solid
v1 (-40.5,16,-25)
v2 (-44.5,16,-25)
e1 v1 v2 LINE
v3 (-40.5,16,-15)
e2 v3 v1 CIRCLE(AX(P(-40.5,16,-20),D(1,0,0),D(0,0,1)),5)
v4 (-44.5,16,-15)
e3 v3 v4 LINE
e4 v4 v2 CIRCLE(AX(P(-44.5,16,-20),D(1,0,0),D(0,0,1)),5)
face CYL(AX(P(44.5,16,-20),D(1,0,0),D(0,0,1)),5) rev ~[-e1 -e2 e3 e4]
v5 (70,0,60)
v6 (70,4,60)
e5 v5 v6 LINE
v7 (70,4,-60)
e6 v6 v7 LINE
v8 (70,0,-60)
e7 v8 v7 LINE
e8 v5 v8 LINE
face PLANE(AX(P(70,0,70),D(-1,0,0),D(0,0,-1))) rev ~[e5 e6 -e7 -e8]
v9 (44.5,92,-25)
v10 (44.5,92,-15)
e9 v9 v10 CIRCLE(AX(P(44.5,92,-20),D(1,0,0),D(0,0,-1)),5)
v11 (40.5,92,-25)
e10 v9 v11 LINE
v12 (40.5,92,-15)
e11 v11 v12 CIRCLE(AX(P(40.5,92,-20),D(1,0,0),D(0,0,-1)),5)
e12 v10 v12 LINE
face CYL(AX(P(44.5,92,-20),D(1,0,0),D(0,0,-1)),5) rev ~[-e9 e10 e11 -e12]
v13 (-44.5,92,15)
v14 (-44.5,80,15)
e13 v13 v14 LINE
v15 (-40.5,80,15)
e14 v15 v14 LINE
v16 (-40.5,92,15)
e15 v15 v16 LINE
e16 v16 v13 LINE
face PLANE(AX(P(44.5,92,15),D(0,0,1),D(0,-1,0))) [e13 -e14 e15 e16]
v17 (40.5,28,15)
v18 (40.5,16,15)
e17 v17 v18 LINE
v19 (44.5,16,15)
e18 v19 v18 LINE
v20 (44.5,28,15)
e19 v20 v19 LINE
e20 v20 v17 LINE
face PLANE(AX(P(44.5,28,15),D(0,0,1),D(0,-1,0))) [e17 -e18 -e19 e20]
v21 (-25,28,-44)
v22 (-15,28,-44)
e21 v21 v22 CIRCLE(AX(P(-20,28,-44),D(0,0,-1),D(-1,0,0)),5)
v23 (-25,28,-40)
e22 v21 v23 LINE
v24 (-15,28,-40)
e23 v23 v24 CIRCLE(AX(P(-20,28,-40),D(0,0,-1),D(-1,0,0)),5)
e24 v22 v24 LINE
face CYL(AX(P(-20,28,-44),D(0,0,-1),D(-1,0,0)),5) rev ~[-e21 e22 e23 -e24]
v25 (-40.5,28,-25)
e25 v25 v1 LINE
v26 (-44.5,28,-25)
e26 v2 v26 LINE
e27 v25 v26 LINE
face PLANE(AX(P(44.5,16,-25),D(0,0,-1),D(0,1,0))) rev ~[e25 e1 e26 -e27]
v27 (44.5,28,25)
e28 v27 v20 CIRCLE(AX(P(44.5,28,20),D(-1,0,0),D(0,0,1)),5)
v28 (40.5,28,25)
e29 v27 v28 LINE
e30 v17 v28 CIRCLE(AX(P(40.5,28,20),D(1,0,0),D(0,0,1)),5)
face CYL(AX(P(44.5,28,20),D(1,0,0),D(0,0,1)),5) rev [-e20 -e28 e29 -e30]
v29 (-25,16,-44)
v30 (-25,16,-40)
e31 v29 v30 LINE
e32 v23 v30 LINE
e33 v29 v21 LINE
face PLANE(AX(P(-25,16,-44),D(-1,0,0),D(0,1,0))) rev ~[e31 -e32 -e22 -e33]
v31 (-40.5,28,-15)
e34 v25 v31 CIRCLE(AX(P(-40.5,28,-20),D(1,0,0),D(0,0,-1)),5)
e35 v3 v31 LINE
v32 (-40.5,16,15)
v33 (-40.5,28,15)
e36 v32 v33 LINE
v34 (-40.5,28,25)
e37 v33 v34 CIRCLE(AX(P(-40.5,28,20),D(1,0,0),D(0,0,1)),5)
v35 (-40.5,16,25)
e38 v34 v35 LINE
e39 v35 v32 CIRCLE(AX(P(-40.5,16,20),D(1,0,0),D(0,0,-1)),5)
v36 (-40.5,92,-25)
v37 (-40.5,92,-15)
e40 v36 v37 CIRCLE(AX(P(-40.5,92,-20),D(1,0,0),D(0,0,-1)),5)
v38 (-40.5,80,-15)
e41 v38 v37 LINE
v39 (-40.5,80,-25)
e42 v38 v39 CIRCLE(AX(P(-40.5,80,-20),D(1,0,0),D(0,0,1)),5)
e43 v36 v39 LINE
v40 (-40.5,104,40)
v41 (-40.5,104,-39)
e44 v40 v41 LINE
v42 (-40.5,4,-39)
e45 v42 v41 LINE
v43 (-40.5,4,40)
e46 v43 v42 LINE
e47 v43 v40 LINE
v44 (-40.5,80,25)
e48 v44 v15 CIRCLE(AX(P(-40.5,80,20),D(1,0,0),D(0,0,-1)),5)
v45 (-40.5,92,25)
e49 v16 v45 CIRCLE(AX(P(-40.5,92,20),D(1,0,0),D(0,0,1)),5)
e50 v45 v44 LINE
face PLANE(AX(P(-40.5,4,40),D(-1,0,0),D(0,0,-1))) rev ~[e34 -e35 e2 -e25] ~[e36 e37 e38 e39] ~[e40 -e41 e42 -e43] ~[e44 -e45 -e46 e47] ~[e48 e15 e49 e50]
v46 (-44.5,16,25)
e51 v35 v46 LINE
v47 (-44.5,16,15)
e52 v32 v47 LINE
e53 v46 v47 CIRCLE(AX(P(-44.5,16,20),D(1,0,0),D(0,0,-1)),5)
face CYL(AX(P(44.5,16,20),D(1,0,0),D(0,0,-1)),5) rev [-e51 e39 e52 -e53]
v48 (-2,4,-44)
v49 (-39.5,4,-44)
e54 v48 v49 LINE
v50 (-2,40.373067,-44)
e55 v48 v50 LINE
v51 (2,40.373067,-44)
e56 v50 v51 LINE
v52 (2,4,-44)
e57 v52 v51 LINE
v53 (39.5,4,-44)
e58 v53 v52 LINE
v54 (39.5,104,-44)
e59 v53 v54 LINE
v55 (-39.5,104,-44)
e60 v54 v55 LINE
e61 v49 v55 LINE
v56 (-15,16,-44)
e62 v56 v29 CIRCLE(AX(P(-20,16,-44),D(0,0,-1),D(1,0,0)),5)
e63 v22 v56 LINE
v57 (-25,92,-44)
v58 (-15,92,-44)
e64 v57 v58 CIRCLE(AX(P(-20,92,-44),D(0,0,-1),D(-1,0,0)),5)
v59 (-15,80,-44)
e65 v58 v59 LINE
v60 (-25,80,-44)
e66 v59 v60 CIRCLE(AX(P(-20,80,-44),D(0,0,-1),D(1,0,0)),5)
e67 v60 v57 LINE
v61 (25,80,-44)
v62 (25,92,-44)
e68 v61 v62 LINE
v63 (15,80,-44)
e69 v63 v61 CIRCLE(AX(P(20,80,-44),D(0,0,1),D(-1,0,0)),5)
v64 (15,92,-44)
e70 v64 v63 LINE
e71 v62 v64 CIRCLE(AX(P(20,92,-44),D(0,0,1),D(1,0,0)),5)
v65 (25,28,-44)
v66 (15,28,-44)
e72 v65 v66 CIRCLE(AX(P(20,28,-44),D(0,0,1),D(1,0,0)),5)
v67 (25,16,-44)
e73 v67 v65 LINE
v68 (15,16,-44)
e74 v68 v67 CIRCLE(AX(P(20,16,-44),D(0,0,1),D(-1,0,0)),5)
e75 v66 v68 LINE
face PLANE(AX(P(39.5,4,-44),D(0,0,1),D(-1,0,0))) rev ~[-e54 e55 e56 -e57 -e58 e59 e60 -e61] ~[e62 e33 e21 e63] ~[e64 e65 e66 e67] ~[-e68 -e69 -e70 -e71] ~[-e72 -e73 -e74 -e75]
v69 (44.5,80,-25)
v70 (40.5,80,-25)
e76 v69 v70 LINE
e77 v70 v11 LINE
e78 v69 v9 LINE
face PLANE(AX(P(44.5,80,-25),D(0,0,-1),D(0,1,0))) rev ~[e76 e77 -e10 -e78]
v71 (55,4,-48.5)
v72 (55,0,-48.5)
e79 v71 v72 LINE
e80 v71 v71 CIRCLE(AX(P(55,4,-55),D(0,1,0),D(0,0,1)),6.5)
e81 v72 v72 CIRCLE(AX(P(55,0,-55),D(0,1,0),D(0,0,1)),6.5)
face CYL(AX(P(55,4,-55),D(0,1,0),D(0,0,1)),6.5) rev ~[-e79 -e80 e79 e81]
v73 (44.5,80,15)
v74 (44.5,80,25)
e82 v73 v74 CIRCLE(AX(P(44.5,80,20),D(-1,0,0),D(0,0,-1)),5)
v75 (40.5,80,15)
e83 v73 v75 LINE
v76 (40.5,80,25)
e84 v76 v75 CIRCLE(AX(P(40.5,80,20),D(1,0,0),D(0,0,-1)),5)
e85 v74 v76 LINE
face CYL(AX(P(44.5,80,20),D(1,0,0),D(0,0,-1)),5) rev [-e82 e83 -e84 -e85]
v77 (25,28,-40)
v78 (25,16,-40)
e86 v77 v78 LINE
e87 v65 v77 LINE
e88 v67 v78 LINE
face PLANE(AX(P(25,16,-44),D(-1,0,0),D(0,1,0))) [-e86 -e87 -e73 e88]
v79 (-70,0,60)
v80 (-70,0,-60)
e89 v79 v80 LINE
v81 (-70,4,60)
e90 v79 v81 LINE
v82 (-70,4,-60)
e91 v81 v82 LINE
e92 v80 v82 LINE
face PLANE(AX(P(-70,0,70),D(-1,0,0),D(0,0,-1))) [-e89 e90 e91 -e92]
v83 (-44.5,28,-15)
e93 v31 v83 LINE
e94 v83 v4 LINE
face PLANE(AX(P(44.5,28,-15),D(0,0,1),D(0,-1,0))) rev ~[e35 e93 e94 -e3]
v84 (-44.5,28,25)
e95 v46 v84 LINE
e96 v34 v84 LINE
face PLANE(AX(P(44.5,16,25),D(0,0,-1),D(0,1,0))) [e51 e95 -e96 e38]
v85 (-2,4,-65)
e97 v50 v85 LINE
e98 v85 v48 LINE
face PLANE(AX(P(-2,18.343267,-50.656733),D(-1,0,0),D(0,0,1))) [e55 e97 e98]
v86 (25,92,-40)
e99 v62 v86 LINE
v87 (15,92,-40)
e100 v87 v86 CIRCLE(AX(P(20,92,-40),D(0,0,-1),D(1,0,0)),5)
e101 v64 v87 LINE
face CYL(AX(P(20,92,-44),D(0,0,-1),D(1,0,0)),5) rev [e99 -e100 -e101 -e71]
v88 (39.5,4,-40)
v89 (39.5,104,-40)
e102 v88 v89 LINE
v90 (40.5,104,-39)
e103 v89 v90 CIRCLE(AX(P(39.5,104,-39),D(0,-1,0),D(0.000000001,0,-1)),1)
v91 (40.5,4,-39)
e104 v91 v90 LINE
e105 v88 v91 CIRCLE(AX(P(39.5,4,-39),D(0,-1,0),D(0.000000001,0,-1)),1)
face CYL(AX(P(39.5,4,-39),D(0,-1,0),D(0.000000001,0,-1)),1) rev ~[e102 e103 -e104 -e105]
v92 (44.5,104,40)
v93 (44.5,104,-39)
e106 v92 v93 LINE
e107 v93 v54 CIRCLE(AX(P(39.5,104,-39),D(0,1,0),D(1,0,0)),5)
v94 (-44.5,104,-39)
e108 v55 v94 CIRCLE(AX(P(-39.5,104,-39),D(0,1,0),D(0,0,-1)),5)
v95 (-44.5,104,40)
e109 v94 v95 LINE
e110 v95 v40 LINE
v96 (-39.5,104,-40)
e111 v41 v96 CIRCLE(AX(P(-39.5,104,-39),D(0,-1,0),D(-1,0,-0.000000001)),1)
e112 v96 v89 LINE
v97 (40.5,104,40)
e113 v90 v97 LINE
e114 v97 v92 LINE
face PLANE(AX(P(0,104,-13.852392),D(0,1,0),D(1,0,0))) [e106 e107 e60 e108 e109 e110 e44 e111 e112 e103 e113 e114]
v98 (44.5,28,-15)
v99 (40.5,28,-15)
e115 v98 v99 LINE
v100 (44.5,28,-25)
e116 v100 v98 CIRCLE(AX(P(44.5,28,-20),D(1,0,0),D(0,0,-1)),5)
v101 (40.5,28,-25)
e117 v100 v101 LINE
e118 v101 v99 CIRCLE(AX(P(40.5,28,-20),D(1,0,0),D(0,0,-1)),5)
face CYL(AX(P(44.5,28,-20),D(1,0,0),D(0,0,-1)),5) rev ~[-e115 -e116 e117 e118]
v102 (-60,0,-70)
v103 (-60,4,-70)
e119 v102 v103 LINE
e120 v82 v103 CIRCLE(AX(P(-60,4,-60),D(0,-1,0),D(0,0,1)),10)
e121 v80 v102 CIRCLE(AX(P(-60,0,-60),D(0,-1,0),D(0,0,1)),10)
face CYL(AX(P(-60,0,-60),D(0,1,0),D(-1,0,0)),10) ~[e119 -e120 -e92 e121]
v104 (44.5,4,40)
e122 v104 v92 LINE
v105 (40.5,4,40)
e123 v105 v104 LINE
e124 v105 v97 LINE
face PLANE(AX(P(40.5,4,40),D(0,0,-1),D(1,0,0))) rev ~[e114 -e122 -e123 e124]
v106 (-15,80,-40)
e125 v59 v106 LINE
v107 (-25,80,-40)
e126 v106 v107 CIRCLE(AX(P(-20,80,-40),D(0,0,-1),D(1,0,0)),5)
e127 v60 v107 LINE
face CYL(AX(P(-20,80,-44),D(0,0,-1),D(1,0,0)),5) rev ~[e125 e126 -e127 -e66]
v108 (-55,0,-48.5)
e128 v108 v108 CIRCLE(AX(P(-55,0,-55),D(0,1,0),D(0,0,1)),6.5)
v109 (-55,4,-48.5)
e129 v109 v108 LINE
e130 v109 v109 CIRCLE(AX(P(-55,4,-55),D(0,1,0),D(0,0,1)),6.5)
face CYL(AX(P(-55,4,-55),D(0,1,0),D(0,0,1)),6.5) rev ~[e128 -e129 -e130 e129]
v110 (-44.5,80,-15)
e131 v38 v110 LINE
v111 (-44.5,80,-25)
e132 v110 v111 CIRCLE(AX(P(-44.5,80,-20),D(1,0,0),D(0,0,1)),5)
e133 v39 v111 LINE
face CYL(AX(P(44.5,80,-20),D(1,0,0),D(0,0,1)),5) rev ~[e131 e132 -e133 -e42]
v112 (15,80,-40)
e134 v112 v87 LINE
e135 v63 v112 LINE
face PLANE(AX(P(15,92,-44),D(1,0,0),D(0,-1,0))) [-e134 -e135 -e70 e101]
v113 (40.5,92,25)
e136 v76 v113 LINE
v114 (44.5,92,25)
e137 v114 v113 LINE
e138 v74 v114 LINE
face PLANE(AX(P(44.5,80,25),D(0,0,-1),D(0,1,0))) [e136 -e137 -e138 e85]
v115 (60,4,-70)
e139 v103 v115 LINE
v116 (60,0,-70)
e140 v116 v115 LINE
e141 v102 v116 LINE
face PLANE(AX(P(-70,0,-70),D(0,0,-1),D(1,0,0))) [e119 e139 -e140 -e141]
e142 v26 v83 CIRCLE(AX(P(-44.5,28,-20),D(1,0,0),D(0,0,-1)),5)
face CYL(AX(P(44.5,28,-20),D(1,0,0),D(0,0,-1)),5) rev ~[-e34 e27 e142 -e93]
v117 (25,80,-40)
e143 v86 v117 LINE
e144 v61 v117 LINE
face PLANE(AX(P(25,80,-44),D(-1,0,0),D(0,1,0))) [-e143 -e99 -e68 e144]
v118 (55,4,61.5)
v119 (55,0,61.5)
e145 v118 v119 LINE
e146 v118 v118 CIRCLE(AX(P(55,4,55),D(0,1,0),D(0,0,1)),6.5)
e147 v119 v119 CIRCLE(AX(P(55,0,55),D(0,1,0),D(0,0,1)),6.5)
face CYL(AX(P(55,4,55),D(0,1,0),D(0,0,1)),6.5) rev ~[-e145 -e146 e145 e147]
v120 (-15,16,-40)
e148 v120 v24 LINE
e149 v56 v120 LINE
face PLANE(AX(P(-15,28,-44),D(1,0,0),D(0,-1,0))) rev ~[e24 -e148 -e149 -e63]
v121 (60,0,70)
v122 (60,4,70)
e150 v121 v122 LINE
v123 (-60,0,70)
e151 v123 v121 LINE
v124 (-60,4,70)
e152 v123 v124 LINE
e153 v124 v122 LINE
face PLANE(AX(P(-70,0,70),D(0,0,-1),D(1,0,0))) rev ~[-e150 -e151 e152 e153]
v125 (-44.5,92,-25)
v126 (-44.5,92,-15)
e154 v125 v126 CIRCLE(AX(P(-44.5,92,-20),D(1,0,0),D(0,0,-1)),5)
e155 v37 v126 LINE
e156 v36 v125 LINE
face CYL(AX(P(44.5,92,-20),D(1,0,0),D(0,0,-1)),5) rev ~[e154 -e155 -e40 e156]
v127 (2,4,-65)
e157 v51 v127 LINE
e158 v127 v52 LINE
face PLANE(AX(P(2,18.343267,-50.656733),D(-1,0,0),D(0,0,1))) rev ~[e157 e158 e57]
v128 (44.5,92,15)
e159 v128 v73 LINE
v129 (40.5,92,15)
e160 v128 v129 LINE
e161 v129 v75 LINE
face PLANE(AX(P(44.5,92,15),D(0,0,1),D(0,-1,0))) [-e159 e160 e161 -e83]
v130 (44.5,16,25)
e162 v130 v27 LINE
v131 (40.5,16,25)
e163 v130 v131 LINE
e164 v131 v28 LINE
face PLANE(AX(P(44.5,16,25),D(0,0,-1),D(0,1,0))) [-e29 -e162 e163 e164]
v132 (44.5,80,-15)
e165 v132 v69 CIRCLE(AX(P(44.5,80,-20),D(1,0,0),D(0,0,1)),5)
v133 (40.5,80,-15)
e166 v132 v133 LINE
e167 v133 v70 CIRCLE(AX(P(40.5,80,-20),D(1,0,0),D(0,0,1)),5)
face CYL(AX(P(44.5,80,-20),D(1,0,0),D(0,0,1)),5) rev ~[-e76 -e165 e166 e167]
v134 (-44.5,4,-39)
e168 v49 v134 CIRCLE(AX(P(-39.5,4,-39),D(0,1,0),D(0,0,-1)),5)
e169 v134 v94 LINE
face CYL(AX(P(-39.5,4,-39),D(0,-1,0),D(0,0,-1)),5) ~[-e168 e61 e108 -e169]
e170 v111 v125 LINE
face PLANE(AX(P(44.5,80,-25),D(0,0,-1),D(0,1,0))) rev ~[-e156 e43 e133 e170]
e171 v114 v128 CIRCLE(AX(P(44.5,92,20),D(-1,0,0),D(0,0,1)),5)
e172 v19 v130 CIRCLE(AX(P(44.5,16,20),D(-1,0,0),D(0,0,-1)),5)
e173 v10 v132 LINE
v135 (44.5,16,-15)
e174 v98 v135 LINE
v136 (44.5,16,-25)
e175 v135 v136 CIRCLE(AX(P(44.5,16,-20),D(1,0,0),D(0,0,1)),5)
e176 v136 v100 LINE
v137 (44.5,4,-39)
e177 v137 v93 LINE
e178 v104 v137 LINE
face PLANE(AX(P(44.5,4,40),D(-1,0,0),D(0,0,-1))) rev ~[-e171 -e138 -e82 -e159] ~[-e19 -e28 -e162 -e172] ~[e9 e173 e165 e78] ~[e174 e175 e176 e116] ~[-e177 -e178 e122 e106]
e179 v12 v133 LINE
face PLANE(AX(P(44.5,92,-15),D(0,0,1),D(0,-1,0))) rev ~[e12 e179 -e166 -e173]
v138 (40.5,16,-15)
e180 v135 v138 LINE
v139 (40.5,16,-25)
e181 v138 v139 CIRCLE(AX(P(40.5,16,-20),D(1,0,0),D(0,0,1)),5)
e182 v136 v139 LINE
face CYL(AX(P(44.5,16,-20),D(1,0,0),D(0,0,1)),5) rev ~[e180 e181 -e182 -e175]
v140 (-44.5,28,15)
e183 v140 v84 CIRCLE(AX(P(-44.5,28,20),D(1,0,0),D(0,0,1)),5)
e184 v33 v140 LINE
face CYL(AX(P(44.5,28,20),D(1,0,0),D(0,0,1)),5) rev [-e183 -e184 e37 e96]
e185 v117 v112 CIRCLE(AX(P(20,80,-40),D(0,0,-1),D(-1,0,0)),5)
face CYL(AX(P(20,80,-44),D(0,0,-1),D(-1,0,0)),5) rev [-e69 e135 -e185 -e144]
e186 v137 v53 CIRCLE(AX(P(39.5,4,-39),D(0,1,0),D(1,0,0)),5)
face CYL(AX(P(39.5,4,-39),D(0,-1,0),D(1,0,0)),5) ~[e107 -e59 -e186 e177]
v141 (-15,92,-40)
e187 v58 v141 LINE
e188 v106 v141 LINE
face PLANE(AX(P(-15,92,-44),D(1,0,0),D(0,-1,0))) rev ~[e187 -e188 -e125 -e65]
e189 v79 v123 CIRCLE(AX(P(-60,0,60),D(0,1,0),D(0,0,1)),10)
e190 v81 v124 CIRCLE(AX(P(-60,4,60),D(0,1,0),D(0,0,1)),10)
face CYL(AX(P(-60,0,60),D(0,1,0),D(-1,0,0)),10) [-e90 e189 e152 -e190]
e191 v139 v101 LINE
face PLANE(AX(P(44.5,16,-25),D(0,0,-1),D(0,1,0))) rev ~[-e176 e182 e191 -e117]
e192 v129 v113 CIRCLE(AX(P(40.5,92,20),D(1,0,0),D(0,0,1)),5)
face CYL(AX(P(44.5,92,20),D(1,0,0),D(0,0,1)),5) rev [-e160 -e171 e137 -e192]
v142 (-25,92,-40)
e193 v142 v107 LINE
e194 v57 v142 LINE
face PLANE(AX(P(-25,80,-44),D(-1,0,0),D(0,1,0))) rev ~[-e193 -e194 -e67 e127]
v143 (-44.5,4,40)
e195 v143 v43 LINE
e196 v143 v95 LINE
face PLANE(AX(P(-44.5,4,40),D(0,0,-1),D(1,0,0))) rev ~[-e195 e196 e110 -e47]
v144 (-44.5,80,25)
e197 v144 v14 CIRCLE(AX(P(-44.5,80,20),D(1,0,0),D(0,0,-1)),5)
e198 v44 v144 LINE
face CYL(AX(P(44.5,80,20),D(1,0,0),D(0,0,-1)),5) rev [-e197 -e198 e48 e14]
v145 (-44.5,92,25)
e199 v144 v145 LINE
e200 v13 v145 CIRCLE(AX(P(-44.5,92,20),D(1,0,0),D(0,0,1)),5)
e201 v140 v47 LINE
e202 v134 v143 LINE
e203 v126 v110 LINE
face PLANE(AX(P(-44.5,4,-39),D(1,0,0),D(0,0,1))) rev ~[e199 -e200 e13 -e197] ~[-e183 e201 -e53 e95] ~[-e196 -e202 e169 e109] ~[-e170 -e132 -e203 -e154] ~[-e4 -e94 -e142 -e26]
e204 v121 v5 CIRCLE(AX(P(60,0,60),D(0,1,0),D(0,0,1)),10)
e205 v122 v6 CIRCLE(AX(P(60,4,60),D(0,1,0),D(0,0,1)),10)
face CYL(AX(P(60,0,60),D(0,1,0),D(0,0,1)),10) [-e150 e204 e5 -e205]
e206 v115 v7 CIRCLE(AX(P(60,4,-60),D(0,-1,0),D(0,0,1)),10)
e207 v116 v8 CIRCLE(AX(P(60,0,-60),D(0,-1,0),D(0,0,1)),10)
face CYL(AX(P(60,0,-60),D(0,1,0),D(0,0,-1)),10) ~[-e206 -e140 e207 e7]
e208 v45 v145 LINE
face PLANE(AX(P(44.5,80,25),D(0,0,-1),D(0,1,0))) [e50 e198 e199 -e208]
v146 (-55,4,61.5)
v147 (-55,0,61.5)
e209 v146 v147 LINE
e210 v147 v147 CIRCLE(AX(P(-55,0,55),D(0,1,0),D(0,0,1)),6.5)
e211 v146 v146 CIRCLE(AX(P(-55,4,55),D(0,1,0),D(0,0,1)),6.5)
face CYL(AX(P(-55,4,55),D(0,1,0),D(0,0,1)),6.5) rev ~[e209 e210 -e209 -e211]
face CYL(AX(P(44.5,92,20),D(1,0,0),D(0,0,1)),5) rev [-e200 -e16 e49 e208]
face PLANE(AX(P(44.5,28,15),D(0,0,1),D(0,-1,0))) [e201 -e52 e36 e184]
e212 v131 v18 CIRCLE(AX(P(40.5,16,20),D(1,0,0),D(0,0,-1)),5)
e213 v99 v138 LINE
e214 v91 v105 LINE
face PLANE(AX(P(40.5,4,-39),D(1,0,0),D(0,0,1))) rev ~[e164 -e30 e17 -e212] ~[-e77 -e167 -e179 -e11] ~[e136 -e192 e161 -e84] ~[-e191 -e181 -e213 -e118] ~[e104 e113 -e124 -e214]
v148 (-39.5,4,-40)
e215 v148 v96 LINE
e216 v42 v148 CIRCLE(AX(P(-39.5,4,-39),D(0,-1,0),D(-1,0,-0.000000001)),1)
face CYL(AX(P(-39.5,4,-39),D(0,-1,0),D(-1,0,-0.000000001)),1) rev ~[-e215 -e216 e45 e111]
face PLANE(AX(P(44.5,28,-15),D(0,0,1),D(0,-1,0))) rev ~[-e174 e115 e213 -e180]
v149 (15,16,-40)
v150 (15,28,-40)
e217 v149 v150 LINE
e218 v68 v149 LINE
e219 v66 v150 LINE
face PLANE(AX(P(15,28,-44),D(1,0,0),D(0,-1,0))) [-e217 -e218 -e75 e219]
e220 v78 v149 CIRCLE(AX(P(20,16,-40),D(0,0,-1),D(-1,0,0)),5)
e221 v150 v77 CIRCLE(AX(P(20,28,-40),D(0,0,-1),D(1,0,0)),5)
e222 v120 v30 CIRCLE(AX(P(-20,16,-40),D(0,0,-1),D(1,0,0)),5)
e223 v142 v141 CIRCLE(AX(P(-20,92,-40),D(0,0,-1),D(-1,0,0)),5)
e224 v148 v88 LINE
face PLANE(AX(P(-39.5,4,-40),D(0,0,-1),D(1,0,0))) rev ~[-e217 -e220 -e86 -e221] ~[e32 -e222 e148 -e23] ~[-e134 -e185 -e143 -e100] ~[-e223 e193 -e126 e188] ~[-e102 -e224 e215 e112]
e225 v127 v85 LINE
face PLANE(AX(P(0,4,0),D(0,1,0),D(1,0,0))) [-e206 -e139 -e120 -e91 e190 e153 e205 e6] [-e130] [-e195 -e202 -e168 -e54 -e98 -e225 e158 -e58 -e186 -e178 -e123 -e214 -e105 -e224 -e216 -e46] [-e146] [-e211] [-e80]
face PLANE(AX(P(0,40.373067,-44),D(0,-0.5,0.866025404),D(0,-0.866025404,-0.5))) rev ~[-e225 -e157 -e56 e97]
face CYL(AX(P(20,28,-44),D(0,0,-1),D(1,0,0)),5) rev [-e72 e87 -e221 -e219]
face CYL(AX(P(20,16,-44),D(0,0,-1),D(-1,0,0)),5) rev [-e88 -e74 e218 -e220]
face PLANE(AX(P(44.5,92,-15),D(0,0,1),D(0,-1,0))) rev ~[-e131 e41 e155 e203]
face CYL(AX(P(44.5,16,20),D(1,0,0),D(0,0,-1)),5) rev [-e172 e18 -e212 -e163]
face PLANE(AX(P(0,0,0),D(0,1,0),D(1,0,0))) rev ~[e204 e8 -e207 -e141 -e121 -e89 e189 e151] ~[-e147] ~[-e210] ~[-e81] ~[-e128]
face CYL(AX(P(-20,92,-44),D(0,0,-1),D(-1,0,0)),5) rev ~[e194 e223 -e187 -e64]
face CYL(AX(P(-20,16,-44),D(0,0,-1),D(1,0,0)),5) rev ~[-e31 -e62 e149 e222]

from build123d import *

# Parameters (mm, degrees)
SKETCH_2_W          = 140
SKETCH_2_H          = 140
EXTRUDE_1_DEPTH     = 4
EXTRUDE_1_2_DEPTH   = 100
EXTRUDE_2_DEPTH     = 2
CUT_EXTRUDE_1_DEPTH = 115.5
SKETCH_6_R          = 6.5
CUT_EXTRUDE_2_DEPTH = 5
FILLET_1_R          = 10
CUT_EXTRUDE_3_REACH = 116


with BuildPart() as part:
    # Эскиз2 → Extrude 1 (new body)
    with BuildSketch(Plane(origin=(0, 0, 0), x_dir=(1, 0, 0), z_dir=(0, 1, 0))):
        Rectangle(SKETCH_2_W, SKETCH_2_H)
    extrude(amount=EXTRUDE_1_DEPTH)

    # Эскиз3 → Extrude 1 2 (add)
    with BuildSketch(Plane(origin=(0, 4, 0), x_dir=(1, 0, 0), z_dir=(0, 1, 0))):
        with BuildLine():
            Line((-40.5, -40), (-40.5, 39))
            ThreePointArc((-40.5, 39), (-40.207106781, 39.707106781), (-39.5, 40))
            Line((-39.5, 40), (39.5, 40))
            ThreePointArc((39.5, 40), (40.207106781, 39.707106781), (40.5, 39))
            Line((40.5, 39), (40.5, -40))
            Line((40.5, -40), (44.5, -40))
            Line((44.5, -40), (44.5, 39))
            ThreePointArc((44.5, 39), (43.035533906, 42.535533906), (39.5, 44))
            Line((39.5, 44), (-39.5, 44))
            ThreePointArc((-39.5, 44), (-43.035533906, 42.535533906), (-44.5, 39))
            Line((-44.5, 39), (-44.5, -40))
            Line((-44.5, -40), (-40.5, -40))
        make_face()
    extrude(amount=EXTRUDE_1_2_DEPTH)

    # Эскиз4 → Бобышка-Вытянуть2 (add, symmetric)
    with BuildSketch(Plane(origin=(0, 0, 0), x_dir=(0, 0, -1), z_dir=(1, 0, 0))):
        Polygon((44, 40.373066959), (65, 4), (44, 4), align=None)
    extrude(amount=EXTRUDE_2_DEPTH, both=True)

    # Эскиз5 → Вырез-Вытянуть1 (cut, through all)
    with BuildSketch(Plane(origin=(44.5, 0, 0), x_dir=(0, 0, -1), z_dir=(1, 0, 0))):
        with BuildLine():
            Line((-15, 92), (-15, 80))
            ThreePointArc((-15, 80), (-20, 75), (-25, 80))
            Line((-25, 80), (-25, 92))
            ThreePointArc((-25, 92), (-20, 97), (-15, 92))
        make_face()
        with BuildLine():
            Line((-15, 28), (-15, 16))
            ThreePointArc((-15, 16), (-20, 11), (-25, 16))
            Line((-25, 16), (-25, 28))
            ThreePointArc((-25, 28), (-20, 33), (-15, 28))
        make_face()
        with BuildLine():
            Line((15, 92), (15, 80))
            ThreePointArc((15, 80), (20, 75), (25, 80))
            Line((25, 80), (25, 92))
            ThreePointArc((25, 92), (20, 97), (15, 92))
        make_face()
        with BuildLine():
            Line((15, 28), (15, 16))
            ThreePointArc((15, 16), (20, 11), (25, 16))
            Line((25, 16), (25, 28))
            ThreePointArc((25, 28), (20, 33), (15, 28))
        make_face()
    extrude(amount=-CUT_EXTRUDE_1_DEPTH, mode=Mode.SUBTRACT)

    # Эскиз6 → Вырез-Вытянуть2 (cut, through all)
    with BuildSketch(Plane(origin=(0, 4, 0), x_dir=(1, 0, 0), z_dir=(0, 1, 0))):
        with Locations(Location((-55, 55, 0), (0, 0, 270))):  # turned: the seam where the file's is
            Circle(SKETCH_6_R)
        with Locations(Location((-55, -55, 0), (0, 0, 270))):  # turned: the seam where the file's is
            Circle(SKETCH_6_R)
        with Locations(Location((55, 55, 0), (0, 0, 270))):  # turned: the seam where the file's is
            Circle(SKETCH_6_R)
        with Locations(Location((55, -55, 0), (0, 0, 270))):  # turned: the seam where the file's is
            Circle(SKETCH_6_R)
    extrude(amount=-CUT_EXTRUDE_2_DEPTH, mode=Mode.SUBTRACT)

    # Скругление1
    fillet_1_edges = [part.edges().sort_by_distance(p)[0] for p in [
        (70, 2, 70),
        (-70, 2, 70),
        (-70, 2, -70),
        (70, 2, -70),
    ]]
    fillet(fillet_1_edges, radius=FILLET_1_R)

    # Эскиз8 → Вырез-Вытянуть3 (cut, up to next)
    with BuildSketch(Plane(origin=(0, 0, -44), x_dir=(-1, 0, 0), z_dir=(0, 0, -1)), mode=Mode.PRIVATE) as cut_extrude_3_sk1:
        with BuildLine():
            Line((-15, 92), (-15, 80))
            ThreePointArc((-15, 80), (-20, 75), (-25, 80))
            Line((-25, 80), (-25, 92))
            ThreePointArc((-25, 92), (-20, 97), (-15, 92))
        make_face()
    cut_extrude_3_tool1 = extrude(cut_extrude_3_sk1.sketch, amount=-CUT_EXTRUDE_3_REACH, mode=Mode.PRIVATE) & part.part
    add(cut_extrude_3_tool1.solids().sort_by_distance((20, 86, -44))[0], mode=Mode.SUBTRACT)
    # Эскиз8 → Вырез-Вытянуть3 (cut, up to next)
    with BuildSketch(Plane(origin=(0, 0, -44), x_dir=(-1, 0, 0), z_dir=(0, 0, -1)), mode=Mode.PRIVATE) as cut_extrude_3_sk2:
        with BuildLine():
            Line((-15, 28), (-15, 16))
            ThreePointArc((-15, 16), (-20, 11), (-25, 16))
            Line((-25, 16), (-25, 28))
            ThreePointArc((-25, 28), (-20, 33), (-15, 28))
        make_face()
    cut_extrude_3_tool2 = extrude(cut_extrude_3_sk2.sketch, amount=-CUT_EXTRUDE_3_REACH, mode=Mode.PRIVATE) & part.part
    add(cut_extrude_3_tool2.solids().sort_by_distance((20, 22, -44))[0], mode=Mode.SUBTRACT)
    # Эскиз8 → Вырез-Вытянуть3 (cut, up to next)
    with BuildSketch(Plane(origin=(0, 0, -44), x_dir=(-1, 0, 0), z_dir=(0, 0, -1)), mode=Mode.PRIVATE) as cut_extrude_3_sk3:
        with BuildLine():
            Line((15, 92), (15, 80))
            ThreePointArc((15, 80), (20, 75), (25, 80))
            Line((25, 80), (25, 92))
            ThreePointArc((25, 92), (20, 97), (15, 92))
        make_face()
    cut_extrude_3_tool3 = extrude(cut_extrude_3_sk3.sketch, amount=-CUT_EXTRUDE_3_REACH, mode=Mode.PRIVATE) & part.part
    add(cut_extrude_3_tool3.solids().sort_by_distance((-20, 86, -44))[0], mode=Mode.SUBTRACT)
    # Эскиз8 → Вырез-Вытянуть3 (cut, up to next)
    with BuildSketch(Plane(origin=(0, 0, -44), x_dir=(-1, 0, 0), z_dir=(0, 0, -1)), mode=Mode.PRIVATE) as cut_extrude_3_sk4:
        with BuildLine():
            Line((15, 28), (15, 16))
            ThreePointArc((15, 16), (20, 11), (25, 16))
            Line((25, 16), (25, 28))
            ThreePointArc((25, 28), (20, 33), (15, 28))
        make_face()
    cut_extrude_3_tool4 = extrude(cut_extrude_3_sk4.sketch, amount=-CUT_EXTRUDE_3_REACH, mode=Mode.PRIVATE) & part.part
    add(cut_extrude_3_tool4.solids().sort_by_distance((-20, 22, -44))[0], mode=Mode.SUBTRACT)


solid = part.part
